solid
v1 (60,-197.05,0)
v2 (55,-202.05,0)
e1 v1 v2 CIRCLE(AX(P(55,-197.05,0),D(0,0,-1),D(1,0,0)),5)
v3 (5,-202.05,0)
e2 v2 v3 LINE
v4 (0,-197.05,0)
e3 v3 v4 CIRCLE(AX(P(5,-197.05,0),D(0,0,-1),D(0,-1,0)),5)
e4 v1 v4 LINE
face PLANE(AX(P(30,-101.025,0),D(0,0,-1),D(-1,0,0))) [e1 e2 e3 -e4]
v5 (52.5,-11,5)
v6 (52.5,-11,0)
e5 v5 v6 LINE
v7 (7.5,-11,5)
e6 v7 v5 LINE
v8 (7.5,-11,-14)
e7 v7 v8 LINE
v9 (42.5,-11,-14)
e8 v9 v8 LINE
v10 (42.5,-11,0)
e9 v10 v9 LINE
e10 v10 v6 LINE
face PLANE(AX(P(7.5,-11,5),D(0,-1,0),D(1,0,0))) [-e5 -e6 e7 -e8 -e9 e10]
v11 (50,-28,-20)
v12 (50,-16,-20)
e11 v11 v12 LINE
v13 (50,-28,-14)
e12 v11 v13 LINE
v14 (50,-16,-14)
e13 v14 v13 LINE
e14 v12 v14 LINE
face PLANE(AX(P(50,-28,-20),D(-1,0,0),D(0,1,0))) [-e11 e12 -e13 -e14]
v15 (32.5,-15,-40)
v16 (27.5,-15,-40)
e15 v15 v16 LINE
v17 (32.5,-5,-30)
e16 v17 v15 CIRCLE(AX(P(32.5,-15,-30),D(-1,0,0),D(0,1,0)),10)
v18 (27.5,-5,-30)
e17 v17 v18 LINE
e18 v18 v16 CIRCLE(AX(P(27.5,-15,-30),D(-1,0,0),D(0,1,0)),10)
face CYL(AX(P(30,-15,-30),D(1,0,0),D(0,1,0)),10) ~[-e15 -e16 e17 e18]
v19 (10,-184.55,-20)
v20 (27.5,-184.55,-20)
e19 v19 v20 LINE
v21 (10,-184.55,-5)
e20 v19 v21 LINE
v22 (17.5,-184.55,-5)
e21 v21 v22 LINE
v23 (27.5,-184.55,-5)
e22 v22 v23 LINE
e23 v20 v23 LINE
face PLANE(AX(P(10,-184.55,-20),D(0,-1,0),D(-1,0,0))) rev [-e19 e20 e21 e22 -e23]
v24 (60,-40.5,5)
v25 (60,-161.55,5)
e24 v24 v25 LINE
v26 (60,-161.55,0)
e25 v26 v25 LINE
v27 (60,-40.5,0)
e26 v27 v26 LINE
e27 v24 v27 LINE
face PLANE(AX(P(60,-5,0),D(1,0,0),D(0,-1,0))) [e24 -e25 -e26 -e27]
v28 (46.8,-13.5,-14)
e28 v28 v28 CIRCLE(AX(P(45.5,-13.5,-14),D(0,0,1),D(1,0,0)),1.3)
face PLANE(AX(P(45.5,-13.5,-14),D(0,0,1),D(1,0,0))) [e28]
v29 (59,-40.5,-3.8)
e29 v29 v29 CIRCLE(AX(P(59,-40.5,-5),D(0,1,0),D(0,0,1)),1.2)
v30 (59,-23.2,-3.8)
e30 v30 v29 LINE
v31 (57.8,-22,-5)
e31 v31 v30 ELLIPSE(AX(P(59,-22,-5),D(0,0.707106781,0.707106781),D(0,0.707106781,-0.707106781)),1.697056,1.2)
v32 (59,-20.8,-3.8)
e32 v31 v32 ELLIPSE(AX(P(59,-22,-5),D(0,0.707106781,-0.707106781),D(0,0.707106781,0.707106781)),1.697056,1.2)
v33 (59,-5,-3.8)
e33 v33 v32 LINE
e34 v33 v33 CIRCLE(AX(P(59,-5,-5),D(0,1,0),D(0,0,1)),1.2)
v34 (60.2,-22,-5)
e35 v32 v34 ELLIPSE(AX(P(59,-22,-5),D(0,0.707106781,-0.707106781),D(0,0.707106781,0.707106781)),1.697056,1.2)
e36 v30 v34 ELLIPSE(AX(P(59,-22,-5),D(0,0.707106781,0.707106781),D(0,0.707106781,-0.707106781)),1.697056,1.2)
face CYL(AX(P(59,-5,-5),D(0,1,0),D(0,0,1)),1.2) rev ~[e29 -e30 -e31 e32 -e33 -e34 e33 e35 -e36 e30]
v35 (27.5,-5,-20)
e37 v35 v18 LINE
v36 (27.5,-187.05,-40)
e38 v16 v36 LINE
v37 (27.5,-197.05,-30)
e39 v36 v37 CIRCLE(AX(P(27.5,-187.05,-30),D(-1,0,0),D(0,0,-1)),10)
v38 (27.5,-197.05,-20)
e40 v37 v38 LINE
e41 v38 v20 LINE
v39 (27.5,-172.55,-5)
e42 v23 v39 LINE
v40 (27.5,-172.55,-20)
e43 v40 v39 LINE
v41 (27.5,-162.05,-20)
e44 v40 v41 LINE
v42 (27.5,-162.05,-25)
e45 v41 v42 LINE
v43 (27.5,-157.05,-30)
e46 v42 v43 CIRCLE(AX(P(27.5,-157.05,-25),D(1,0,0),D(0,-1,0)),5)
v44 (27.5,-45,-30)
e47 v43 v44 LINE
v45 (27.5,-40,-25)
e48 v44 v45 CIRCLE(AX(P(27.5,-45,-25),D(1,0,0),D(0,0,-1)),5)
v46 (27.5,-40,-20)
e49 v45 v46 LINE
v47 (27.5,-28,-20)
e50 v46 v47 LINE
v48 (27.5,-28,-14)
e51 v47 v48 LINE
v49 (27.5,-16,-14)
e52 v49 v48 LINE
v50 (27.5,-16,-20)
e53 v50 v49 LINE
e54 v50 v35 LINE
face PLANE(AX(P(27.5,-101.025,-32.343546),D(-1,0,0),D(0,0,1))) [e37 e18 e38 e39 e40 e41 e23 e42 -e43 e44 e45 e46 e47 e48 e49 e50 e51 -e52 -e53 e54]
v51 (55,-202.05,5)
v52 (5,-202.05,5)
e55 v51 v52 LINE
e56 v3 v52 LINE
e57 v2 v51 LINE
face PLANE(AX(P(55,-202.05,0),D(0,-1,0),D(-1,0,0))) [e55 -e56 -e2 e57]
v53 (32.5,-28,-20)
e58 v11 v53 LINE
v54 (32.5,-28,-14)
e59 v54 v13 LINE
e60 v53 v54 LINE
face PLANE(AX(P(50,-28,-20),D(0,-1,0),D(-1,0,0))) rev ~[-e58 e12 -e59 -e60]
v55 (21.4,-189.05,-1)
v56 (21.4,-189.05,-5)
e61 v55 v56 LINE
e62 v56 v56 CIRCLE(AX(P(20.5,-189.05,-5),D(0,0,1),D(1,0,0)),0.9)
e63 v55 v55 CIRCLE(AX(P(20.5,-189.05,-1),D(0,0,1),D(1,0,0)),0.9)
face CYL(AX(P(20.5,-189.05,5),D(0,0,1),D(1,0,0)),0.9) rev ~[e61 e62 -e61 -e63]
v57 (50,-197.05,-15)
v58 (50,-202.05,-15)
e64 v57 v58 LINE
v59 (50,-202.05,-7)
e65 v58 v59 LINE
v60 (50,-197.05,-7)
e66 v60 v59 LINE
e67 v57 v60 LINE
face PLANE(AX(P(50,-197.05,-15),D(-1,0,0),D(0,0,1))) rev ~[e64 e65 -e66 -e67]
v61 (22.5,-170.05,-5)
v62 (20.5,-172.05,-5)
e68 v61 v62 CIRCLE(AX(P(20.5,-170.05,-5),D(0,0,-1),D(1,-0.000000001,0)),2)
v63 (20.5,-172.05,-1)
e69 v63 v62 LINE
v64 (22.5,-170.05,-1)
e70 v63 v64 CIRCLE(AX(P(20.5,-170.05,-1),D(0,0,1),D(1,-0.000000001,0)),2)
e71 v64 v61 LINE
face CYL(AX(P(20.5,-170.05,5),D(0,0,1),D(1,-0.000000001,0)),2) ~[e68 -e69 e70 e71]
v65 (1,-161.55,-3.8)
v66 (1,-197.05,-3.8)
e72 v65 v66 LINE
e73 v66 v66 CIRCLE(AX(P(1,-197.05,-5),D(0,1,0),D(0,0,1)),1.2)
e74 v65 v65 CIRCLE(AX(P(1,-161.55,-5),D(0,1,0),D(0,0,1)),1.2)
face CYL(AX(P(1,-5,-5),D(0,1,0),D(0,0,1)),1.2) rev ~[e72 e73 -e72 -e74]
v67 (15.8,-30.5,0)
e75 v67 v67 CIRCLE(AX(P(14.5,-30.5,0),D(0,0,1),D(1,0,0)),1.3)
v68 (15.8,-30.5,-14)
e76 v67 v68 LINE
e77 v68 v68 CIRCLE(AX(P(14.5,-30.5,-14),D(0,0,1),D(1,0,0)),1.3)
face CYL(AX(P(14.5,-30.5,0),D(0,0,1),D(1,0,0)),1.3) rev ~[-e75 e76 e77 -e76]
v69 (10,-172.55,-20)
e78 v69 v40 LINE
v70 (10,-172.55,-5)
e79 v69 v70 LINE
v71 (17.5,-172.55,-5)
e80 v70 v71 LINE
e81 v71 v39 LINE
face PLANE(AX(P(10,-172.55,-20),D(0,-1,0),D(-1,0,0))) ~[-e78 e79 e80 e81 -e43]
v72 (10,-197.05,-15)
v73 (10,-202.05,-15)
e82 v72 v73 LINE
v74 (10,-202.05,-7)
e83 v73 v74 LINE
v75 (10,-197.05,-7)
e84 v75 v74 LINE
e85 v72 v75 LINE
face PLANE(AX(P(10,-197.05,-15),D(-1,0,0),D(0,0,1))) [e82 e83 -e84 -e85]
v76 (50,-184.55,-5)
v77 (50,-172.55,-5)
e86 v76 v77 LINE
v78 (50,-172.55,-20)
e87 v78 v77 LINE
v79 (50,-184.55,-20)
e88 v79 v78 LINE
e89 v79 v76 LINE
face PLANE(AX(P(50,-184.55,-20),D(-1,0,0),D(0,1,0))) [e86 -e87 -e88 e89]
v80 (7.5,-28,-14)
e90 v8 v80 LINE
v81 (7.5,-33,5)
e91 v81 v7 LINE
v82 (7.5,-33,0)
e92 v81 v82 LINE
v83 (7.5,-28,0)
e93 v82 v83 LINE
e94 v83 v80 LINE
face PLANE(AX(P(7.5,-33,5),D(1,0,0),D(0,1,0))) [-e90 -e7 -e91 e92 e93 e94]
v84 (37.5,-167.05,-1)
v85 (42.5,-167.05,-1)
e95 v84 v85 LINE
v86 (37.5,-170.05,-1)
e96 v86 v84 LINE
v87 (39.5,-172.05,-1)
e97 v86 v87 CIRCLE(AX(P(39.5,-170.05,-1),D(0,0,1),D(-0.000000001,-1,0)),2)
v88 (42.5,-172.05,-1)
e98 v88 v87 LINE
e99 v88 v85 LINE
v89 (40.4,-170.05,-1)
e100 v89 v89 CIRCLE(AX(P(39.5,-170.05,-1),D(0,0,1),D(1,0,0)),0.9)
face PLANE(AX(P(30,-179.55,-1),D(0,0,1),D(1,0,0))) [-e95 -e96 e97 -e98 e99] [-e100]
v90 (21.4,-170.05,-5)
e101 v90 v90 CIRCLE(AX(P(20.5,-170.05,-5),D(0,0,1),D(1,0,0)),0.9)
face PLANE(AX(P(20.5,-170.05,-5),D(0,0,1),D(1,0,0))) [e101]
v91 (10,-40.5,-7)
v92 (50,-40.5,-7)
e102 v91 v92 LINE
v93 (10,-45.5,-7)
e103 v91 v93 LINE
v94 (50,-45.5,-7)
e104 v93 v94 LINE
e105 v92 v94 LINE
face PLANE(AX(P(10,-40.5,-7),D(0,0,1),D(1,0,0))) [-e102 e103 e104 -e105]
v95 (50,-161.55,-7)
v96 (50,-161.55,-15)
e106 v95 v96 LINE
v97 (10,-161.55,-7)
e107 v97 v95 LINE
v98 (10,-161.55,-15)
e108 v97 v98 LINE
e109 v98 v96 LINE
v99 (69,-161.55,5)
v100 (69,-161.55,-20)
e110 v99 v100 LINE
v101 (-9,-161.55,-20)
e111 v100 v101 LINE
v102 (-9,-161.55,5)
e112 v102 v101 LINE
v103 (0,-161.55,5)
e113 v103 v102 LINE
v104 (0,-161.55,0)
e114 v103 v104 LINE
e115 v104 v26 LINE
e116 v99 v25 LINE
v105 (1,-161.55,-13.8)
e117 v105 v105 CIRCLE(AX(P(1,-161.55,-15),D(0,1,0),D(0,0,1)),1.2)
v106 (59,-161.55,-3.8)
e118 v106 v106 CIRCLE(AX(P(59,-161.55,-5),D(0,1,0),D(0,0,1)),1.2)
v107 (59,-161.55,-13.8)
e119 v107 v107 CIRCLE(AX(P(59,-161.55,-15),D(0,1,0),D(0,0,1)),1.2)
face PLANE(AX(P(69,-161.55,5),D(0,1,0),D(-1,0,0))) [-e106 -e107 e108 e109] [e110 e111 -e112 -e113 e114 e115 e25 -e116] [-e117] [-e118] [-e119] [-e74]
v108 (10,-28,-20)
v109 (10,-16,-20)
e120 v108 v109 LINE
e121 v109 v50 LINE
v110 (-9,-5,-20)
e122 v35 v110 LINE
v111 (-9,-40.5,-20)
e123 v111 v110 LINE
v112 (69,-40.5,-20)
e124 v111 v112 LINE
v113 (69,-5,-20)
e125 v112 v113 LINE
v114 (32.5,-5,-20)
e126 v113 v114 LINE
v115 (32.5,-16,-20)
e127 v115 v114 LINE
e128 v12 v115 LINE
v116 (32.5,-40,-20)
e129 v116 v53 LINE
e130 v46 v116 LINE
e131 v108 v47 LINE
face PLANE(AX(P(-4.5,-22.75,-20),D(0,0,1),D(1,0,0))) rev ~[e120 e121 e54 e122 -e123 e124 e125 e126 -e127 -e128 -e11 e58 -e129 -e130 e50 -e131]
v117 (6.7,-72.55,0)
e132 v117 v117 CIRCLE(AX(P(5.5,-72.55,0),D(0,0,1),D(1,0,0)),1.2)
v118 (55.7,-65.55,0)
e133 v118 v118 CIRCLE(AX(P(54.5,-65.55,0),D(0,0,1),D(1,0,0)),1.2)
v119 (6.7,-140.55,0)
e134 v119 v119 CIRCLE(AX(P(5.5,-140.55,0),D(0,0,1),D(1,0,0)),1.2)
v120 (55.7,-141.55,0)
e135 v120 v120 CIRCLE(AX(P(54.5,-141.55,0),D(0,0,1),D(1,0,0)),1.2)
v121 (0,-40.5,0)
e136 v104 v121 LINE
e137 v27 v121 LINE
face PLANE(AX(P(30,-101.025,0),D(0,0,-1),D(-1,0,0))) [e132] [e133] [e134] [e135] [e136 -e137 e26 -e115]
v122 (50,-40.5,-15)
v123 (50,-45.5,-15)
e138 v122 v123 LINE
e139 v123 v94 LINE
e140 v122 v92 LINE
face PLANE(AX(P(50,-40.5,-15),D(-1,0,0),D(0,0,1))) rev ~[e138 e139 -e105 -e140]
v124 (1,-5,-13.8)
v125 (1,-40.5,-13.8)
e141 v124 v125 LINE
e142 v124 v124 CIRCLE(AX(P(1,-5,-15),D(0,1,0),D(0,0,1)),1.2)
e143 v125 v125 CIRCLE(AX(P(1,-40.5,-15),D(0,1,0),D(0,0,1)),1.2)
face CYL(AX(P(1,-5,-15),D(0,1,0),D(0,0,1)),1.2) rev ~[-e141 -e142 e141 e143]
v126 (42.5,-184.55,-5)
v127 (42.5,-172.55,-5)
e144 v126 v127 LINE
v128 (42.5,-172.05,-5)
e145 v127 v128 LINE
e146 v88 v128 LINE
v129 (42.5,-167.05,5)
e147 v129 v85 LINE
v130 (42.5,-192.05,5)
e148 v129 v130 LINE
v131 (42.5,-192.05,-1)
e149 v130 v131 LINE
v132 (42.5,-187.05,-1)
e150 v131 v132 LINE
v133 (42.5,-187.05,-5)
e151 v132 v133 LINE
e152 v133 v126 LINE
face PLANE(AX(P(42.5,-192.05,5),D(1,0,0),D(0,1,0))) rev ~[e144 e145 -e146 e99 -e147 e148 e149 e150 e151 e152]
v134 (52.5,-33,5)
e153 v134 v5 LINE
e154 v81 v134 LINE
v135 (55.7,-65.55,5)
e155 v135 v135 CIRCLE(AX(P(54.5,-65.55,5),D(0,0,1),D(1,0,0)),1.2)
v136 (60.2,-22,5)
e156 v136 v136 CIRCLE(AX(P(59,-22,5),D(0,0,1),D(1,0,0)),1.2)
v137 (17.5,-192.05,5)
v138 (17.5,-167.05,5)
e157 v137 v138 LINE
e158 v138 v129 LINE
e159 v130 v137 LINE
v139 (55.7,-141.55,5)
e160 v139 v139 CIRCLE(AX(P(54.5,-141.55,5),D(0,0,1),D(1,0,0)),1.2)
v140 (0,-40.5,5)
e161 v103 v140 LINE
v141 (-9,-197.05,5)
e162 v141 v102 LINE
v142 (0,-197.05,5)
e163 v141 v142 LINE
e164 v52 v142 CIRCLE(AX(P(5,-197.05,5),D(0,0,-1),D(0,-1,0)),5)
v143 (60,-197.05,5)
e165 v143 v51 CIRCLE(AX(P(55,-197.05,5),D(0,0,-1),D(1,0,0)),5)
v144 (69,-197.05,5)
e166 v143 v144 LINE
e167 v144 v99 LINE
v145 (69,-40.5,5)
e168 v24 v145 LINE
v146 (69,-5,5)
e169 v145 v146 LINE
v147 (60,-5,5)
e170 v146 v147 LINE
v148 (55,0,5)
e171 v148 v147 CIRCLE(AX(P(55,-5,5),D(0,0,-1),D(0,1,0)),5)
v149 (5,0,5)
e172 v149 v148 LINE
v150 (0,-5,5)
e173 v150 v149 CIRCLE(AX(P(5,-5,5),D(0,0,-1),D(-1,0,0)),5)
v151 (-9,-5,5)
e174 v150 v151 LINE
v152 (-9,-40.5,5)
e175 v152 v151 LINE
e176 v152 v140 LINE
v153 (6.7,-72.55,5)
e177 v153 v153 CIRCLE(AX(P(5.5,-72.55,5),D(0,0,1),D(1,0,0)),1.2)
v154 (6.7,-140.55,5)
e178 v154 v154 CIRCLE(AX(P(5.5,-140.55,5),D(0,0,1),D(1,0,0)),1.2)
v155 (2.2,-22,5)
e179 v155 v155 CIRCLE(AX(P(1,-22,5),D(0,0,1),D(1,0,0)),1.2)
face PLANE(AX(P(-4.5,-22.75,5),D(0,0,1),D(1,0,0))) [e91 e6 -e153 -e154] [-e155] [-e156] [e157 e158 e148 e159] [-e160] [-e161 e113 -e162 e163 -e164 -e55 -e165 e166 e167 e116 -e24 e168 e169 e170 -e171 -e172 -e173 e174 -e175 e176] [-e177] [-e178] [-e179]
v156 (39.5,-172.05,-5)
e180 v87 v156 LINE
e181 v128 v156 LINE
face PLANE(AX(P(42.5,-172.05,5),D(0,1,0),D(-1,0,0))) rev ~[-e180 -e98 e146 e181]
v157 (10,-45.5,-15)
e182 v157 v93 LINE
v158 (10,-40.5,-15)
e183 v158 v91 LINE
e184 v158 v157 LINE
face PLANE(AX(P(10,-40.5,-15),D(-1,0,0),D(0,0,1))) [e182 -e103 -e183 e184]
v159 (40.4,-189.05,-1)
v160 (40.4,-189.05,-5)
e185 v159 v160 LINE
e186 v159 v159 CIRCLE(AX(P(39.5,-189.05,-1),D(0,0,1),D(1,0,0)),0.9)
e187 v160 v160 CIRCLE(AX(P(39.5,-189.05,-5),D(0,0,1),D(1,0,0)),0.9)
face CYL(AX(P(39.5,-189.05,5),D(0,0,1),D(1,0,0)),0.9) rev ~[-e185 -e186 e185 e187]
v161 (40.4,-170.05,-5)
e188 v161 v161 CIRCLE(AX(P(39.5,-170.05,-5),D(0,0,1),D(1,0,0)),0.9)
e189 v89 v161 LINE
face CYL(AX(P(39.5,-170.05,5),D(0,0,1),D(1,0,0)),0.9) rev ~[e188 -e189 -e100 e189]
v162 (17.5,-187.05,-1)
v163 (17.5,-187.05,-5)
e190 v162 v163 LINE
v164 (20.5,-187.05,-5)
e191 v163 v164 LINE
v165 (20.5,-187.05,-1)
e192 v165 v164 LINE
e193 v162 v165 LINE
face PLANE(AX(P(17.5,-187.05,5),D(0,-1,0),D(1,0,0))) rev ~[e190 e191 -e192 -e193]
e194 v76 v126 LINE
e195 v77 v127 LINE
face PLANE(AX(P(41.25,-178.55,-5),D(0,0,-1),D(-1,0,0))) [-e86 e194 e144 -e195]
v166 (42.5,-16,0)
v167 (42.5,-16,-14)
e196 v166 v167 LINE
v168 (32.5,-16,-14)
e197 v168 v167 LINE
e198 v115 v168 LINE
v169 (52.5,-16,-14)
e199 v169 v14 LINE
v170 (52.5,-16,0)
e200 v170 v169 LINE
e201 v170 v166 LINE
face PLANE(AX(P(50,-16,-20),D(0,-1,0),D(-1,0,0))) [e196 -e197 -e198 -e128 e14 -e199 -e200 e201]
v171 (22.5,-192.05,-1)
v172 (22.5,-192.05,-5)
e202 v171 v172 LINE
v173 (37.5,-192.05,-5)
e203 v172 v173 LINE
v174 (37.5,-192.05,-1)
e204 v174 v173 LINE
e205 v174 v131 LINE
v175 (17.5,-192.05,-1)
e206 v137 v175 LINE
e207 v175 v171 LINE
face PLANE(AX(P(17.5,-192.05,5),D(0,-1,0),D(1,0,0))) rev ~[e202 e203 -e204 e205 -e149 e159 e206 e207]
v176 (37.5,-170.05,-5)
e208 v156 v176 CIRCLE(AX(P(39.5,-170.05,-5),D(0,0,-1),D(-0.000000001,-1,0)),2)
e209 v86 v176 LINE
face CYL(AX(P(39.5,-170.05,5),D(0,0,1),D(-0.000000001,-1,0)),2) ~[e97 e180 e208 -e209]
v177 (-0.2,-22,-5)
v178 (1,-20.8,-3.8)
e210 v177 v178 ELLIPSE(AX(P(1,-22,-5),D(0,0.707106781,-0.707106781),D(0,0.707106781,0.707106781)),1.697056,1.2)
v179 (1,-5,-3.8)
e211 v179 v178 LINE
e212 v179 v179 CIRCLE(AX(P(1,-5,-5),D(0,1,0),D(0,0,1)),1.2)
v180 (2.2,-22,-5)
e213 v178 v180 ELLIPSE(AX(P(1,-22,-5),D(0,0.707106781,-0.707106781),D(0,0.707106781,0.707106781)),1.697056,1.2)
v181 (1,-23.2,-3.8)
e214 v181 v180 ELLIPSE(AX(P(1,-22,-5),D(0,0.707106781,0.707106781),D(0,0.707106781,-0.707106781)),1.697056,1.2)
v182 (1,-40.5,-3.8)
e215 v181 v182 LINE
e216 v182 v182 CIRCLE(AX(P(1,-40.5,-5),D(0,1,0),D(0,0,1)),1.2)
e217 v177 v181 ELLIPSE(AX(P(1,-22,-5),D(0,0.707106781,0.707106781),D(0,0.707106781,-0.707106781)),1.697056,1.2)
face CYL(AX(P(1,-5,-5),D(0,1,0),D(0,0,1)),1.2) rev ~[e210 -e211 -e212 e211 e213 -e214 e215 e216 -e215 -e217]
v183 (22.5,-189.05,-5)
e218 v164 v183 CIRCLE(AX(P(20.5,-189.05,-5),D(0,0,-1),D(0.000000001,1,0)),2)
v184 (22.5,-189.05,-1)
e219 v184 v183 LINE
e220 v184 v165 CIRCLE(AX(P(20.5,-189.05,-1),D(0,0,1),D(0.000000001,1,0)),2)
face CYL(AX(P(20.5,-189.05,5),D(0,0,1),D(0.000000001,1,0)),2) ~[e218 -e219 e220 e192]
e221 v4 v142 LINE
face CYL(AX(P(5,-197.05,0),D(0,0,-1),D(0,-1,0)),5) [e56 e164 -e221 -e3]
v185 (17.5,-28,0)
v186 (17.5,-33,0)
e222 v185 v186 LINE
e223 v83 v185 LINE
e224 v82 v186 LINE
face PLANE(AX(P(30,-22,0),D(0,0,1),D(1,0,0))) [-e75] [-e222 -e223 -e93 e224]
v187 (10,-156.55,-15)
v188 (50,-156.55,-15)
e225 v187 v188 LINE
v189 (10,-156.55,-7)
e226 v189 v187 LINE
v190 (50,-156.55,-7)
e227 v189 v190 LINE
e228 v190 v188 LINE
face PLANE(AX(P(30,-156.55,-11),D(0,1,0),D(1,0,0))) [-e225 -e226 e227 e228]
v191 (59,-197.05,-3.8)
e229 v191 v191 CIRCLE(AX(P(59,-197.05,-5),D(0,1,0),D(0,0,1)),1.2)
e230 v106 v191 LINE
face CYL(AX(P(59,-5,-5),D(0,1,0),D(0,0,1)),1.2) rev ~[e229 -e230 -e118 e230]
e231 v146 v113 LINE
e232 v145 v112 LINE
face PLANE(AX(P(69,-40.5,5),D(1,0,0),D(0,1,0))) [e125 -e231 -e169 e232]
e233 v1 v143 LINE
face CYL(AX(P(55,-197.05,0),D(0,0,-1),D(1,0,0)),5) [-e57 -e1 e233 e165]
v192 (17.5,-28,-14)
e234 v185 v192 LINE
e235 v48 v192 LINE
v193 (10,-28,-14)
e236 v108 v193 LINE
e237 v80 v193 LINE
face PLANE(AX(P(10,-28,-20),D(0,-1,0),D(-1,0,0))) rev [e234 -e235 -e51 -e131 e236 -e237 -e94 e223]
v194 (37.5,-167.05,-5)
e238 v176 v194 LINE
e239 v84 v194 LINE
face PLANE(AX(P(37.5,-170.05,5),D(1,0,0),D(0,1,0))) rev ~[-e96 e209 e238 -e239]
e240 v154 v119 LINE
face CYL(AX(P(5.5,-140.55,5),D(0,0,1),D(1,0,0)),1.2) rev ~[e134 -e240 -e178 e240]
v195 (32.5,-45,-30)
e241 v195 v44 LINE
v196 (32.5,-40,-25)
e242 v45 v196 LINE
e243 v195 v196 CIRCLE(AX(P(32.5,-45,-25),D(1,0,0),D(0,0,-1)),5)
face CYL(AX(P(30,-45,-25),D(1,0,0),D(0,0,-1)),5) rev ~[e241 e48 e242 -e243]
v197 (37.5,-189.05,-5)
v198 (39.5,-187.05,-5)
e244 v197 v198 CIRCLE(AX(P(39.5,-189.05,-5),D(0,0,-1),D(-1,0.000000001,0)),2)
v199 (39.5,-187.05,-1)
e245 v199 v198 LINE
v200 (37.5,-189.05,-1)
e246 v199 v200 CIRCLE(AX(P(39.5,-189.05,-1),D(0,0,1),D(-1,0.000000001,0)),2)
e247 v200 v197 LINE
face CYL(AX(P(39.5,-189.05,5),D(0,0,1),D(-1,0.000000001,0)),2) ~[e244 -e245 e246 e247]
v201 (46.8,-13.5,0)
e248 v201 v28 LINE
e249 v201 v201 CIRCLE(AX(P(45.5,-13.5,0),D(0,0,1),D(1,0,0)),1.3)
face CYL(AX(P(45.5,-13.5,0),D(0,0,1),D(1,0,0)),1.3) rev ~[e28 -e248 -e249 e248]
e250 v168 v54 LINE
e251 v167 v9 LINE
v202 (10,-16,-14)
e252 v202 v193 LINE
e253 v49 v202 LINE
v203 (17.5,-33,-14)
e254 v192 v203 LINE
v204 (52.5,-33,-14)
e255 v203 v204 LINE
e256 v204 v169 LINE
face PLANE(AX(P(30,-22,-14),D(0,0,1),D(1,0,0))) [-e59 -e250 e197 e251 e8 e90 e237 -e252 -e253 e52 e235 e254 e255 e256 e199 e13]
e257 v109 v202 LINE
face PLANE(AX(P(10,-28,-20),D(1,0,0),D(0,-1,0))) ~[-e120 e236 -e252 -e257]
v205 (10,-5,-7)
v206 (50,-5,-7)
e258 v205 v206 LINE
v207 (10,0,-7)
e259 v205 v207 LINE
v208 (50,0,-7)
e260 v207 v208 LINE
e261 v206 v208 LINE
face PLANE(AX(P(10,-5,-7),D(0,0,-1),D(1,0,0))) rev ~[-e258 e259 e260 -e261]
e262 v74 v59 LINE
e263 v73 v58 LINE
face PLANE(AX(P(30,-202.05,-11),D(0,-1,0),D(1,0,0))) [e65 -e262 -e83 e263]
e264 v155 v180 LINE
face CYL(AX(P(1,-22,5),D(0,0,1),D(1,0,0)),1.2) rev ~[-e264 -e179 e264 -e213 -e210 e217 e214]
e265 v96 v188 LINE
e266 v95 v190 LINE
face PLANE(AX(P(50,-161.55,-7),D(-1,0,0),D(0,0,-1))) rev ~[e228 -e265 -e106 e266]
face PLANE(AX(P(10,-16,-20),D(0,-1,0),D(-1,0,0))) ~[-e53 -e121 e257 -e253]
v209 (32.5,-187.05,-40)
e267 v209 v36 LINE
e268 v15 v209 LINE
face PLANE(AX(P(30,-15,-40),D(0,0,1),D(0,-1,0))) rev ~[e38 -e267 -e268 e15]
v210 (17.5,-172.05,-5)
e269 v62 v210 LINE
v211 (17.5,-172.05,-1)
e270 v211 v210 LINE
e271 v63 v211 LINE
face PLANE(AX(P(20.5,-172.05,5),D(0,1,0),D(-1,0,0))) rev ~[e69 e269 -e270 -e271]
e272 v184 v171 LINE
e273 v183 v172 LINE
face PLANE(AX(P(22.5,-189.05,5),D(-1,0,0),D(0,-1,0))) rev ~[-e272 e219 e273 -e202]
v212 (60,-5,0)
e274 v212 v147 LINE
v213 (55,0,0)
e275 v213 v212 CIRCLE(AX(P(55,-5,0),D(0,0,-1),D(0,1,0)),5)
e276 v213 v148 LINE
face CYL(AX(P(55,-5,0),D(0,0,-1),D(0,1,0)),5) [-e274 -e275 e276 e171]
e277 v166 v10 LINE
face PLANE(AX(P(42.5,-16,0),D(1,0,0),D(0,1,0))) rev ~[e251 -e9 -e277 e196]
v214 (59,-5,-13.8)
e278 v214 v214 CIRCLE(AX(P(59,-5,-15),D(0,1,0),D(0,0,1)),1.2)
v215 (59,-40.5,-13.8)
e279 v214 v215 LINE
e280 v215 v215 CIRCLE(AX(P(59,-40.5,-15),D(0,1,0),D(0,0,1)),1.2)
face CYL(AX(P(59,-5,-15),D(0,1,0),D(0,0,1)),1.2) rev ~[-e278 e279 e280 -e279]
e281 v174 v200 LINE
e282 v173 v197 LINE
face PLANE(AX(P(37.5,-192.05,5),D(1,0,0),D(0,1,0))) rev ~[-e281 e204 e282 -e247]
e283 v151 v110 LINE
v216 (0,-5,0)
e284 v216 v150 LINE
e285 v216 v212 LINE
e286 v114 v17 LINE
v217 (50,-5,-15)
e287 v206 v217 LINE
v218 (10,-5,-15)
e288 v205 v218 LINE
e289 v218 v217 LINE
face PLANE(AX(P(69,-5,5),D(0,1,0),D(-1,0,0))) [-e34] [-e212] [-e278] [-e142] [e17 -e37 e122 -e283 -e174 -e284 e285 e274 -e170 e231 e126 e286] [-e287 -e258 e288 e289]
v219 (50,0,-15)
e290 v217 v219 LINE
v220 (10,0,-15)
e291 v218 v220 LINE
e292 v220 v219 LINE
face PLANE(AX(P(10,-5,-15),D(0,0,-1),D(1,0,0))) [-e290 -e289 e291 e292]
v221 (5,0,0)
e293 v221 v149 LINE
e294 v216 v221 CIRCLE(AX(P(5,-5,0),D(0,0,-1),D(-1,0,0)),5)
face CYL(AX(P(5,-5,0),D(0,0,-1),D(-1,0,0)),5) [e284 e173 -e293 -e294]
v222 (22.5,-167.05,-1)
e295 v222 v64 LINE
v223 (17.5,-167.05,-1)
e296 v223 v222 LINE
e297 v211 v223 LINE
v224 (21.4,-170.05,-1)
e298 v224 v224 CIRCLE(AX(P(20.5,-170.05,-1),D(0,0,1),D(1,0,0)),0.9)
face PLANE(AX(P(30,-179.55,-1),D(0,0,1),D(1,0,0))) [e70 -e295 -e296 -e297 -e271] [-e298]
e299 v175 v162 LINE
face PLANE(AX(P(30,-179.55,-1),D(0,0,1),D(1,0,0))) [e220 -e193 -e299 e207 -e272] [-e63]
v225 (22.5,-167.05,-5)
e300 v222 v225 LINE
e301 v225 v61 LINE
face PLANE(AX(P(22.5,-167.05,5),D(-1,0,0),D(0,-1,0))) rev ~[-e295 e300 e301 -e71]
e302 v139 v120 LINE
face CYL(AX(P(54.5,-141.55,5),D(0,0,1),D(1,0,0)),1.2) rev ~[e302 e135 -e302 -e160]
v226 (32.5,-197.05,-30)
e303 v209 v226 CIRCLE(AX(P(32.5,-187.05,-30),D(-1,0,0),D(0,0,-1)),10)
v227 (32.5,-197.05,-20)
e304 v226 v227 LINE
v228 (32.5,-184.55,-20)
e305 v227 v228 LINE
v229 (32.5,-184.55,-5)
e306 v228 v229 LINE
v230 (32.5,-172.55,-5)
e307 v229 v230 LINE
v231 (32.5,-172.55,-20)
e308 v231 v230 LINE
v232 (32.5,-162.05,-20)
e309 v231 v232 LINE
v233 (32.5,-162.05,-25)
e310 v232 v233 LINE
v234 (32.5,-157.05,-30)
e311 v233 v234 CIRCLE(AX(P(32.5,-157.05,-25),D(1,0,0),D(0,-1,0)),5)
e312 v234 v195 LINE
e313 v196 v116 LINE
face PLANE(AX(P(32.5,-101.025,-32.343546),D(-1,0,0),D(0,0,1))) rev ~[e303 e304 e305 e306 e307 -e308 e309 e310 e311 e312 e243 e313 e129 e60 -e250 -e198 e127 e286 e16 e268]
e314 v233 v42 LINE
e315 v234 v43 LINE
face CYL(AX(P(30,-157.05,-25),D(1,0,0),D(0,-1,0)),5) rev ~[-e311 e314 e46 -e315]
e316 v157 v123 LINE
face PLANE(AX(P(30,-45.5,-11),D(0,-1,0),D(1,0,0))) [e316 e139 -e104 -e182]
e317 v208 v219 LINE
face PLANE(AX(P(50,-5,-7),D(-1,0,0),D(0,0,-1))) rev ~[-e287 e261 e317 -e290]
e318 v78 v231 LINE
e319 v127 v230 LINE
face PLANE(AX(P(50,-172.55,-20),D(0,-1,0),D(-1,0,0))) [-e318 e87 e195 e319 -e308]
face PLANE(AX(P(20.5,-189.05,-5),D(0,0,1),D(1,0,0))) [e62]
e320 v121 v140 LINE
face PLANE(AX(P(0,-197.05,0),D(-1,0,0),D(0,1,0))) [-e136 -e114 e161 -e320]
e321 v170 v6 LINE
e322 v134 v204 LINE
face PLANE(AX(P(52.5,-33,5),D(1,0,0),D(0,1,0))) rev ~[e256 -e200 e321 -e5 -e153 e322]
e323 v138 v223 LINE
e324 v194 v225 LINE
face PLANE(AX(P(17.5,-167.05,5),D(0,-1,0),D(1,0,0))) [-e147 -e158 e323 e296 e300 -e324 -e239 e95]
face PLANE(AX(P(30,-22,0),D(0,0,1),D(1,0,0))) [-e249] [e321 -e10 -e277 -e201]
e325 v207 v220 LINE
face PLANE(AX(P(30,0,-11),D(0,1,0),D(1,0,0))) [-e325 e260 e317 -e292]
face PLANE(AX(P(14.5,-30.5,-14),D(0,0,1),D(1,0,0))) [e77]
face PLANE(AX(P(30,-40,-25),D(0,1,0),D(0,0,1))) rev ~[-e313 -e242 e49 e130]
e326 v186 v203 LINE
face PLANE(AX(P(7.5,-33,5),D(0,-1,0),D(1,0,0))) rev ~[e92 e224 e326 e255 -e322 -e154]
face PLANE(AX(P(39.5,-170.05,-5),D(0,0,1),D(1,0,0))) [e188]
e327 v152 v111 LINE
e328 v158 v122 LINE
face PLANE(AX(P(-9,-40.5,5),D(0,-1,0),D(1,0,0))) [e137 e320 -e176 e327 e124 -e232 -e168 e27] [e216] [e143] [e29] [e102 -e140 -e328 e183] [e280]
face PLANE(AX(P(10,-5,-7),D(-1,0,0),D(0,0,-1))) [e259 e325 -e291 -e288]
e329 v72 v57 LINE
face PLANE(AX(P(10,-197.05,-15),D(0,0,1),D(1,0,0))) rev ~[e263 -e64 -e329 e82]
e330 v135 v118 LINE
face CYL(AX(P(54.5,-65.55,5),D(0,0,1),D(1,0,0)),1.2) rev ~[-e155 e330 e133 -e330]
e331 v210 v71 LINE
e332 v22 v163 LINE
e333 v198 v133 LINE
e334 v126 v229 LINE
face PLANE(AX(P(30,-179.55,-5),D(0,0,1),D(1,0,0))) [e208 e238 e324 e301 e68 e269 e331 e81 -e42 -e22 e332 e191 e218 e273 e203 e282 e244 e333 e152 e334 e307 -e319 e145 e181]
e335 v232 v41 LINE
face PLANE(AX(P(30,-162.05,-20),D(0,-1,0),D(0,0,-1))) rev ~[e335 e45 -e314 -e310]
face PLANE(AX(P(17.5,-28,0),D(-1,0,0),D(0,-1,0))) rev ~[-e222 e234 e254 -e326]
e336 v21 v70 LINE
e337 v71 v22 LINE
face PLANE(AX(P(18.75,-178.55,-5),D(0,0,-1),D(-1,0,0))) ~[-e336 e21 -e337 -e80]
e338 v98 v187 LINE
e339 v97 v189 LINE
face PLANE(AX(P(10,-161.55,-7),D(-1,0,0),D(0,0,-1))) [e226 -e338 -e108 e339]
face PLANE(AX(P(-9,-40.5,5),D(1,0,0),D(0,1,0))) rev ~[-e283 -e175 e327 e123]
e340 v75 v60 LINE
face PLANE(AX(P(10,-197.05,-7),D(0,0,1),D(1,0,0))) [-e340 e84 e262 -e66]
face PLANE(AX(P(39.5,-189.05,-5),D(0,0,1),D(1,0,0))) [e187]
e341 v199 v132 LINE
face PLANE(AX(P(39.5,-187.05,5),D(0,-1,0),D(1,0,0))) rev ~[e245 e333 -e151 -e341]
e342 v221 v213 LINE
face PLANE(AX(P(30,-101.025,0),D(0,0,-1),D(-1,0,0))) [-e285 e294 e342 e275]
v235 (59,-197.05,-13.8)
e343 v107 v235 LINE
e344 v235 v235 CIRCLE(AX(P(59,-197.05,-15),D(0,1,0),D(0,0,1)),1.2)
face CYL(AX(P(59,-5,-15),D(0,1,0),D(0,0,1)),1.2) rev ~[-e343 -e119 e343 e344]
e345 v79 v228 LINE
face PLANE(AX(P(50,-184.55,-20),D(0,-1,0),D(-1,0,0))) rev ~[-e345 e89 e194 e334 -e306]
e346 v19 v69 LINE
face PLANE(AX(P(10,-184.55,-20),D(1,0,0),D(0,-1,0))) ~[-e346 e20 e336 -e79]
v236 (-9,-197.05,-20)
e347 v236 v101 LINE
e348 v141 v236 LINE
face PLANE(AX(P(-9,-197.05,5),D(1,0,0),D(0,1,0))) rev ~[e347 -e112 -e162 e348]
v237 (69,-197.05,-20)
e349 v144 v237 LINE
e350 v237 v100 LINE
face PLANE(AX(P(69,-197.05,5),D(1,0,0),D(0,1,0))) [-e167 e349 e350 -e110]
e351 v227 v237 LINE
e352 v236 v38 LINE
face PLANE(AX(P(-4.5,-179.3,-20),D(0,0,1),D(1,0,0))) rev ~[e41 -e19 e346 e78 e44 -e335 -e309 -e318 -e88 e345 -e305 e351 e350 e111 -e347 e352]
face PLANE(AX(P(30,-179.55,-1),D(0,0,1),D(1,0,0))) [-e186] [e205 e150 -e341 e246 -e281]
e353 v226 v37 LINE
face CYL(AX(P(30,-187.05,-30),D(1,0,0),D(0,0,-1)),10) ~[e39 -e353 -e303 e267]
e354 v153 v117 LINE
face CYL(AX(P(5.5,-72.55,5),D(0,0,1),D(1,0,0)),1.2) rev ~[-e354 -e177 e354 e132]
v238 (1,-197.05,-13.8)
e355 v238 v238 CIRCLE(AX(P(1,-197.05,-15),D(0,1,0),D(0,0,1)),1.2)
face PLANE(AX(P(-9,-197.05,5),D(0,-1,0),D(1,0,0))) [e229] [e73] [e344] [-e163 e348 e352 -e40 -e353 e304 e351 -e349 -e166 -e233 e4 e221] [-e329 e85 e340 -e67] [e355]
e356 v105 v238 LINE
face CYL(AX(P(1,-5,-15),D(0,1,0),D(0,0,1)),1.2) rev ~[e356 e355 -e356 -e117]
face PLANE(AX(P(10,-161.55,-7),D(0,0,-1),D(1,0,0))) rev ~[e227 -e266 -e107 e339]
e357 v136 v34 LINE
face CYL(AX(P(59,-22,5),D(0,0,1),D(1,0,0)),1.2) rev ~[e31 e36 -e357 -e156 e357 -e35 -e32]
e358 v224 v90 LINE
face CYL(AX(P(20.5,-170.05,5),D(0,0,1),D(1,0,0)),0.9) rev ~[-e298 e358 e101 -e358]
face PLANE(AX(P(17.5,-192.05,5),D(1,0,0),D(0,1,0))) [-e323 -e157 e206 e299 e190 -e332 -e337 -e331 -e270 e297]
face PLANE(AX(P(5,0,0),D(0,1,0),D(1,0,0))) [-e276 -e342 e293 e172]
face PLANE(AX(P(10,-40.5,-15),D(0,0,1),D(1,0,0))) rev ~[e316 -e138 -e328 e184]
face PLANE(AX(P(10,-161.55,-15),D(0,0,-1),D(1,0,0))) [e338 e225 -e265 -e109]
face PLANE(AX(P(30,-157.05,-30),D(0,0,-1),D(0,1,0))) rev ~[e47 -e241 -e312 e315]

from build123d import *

# Parameters (mm, degrees)
EXTRUDE_1_DEPTH     = 5
SKETCH_3_W          = 78
SKETCH_3_H          = 35.5
EXTRUDE_3_DEPTH     = 25
SKETCH_4_W          = 40
SKETCH_4_H          = 8
EXTRUDE_4_DEPTH     = 5
SKETCH_5_R          = 1.2
CUT_EXTRUDE_1_DEPTH = 210.737222495
SKETCH_6_W          = 40
SKETCH_6_H          = 8
EXTRUDE_5_DEPTH     = 5
EXTRUDE_6_DEPTH     = 2.5
SKETCH_8_W          = 40
SKETCH_8_H          = 8
EXTRUDE_7_DEPTH     = 5
SKETCH_17_W         = 40
SKETCH_17_H         = 8
EXTRUDE_12_DEPTH    = 5
SKETCH_18_W         = 25
SKETCH_18_H         = 25
CUT_EXTRUDE_3_DEPTH = 6
SKETCH_21_R         = 0.9
CUT_EXTRUDE_4_DEPTH = 10
SKETCH_22_R         = 1.2
CUT_EXTRUDE_5_DEPTH = 10
SKETCH_23_W         = 45
SKETCH_23_H         = 22
CUT_EXTRUDE_6_DEPTH = 5
SKETCH_25_R         = 1.3
CUT_EXTRUDE_7_DEPTH = 14
SKETCH_26_W         = 17.5
SKETCH_26_H         = 12
CUT_EXTRUDE_8_DEPTH = 15


with BuildPart() as part:
    # 草图1 → 凸台-拉伸1 (new body)
    with BuildSketch(Plane.XY):
        with BuildLine():
            Line((5, 0), (55, 0))
            ThreePointArc((55, 0), (58.535533906, -1.464466094), (60, -5))
            Line((60, -5), (60, -197.05))
            ThreePointArc((60, -197.05), (58.535533906, -200.585533906), (55, -202.05))
            Line((55, -202.05), (5, -202.05))
            ThreePointArc((5, -202.05), (1.464466094, -200.585533906), (0, -197.05))
            Line((0, -197.05), (0, -5))
            ThreePointArc((0, -5), (1.464466094, -1.464466094), (5, 0))
        make_face()
    extrude(amount=EXTRUDE_1_DEPTH)

    # 草图3 → 凸台-拉伸3 (add)
    with BuildSketch(Plane.XY.offset(5)):
        with Locations((30, -22.75)):
            Rectangle(SKETCH_3_W, SKETCH_3_H)
        with Locations((30, -179.3)):
            Rectangle(SKETCH_3_W, SKETCH_3_H)
    extrude(amount=-EXTRUDE_3_DEPTH)

    # 草图4 → 凸台-拉伸4 (add)
    with BuildSketch(Plane(origin=(0, -5, 0), x_dir=(1, 0, 0), z_dir=(0, 1, 0))):
        with Locations((30, 11)):
            Rectangle(SKETCH_4_W, SKETCH_4_H)
    extrude(amount=EXTRUDE_4_DEPTH)

    # 草图5 → 切除-拉伸1 (cut, through all)
    with BuildSketch(Plane(origin=(0, -5, 0), x_dir=(1, 0, 0), z_dir=(0, 1, 0))):
        with Locations((1, 15)):
            Circle(SKETCH_5_R)
        with Locations((1, 5)):
            Circle(SKETCH_5_R)
        with Locations((59, 5)):
            Circle(SKETCH_5_R)
        with Locations((59, 15)):
            Circle(SKETCH_5_R)
    extrude(amount=-CUT_EXTRUDE_1_DEPTH, mode=Mode.SUBTRACT)

    # 草图6 → 凸台-拉伸5 (add)
    with BuildSketch(Plane.XZ.offset(197.05)):
        with Locations((30, -11)):
            Rectangle(SKETCH_6_W, SKETCH_6_H)
    extrude(amount=EXTRUDE_5_DEPTH)

    # 草图7 → 凸台-拉伸6 (add, symmetric)
    with BuildSketch(Plane(origin=(30, 0, 0), x_dir=(0, 0, -1), z_dir=(1, 0, 0))):
        with BuildLine():
            Line((20, -5), (30, -5))
            ThreePointArc((30, -5), (37.071067812, -7.928932188), (40, -15))
            Line((40, -15), (40, -187.05))
            ThreePointArc((40, -187.05), (37.071067812, -194.121067812), (30, -197.05))
            Line((30, -197.05), (20, -197.05))
            Line((20, -197.05), (20, -162.05))
            Line((20, -162.05), (25, -162.05))
            ThreePointArc((25, -162.05), (28.535533906, -160.585533906), (30, -157.05))
            Line((30, -157.05), (30, -45))
            ThreePointArc((30, -45), (28.535533906, -41.464466094), (25, -40))
            Line((25, -40), (20, -40))
            Line((20, -40), (20, -5))
        make_face()
    extrude(amount=EXTRUDE_6_DEPTH, both=True)

    # 草图8 → 凸台-拉伸7 (add)
    with BuildSketch(Plane(origin=(0, -161.55, 0), x_dir=(1, 0, 0), z_dir=(0, 1, 0))):
        with Locations((30, 11)):
            Rectangle(SKETCH_8_W, SKETCH_8_H)
    extrude(amount=EXTRUDE_7_DEPTH)

    # 草图17 → 凸台-拉伸12 (add)
    with BuildSketch(Plane.XZ.offset(40.5)):
        with Locations((30, -11)):
            Rectangle(SKETCH_17_W, SKETCH_17_H)
    extrude(amount=EXTRUDE_12_DEPTH)

    # 草图18 → 切除-拉伸3 (cut)
    with BuildSketch(Plane.XY.offset(5)):
        with Locations((30, -179.55)):
            Rectangle(SKETCH_18_W, SKETCH_18_H)
    extrude(amount=-CUT_EXTRUDE_3_DEPTH, mode=Mode.SUBTRACT)

    # 草图21 → 切除-拉伸4 (cut)
    with BuildSketch(Plane.XY.offset(5)):
        with Locations((20.5, -170.05)):
            Circle(SKETCH_21_R)
        with Locations((39.5, -170.05)):
            Circle(SKETCH_21_R)
        with Locations((39.5, -189.05)):
            Circle(SKETCH_21_R)
        with Locations((20.5, -189.05)):
            Circle(SKETCH_21_R)
        with BuildLine():
            Line((17.5, -187.05), (20.5, -187.05))
            ThreePointArc((20.5, -187.05), (21.914213562, -187.635786438), (22.5, -189.05))
            Line((22.5, -189.05), (22.5, -192.05))
            Line((22.5, -192.05), (37.5, -192.05))
            Line((37.5, -192.05), (37.5, -189.05))
            ThreePointArc((37.5, -189.05), (38.085786438, -187.635786438), (39.5, -187.05))
            Line((39.5, -187.05), (42.5, -187.05))
            Line((42.5, -187.05), (42.5, -172.05))
            Line((42.5, -172.05), (39.5, -172.05))
            ThreePointArc((39.5, -172.05), (38.085786438, -171.464213562), (37.5, -170.05))
            Line((37.5, -170.05), (37.5, -167.05))
            Line((37.5, -167.05), (22.5, -167.05))
            Line((22.5, -167.05), (22.5, -170.05))
            ThreePointArc((22.5, -170.05), (21.914213562, -171.464213562), (20.5, -172.05))
            Line((20.5, -172.05), (17.5, -172.05))
            Line((17.5, -172.05), (17.5, -187.05))
        make_face()
    extrude(amount=-CUT_EXTRUDE_4_DEPTH, mode=Mode.SUBTRACT)

    # 草图22 → 切除-拉伸5 (cut)
    with BuildSketch(Plane.XY.offset(5)):
        with Locations((5.5, -140.55)):
            Circle(SKETCH_22_R)
        with Locations((54.5, -141.55)):
            Circle(SKETCH_22_R)
        with Locations((5.5, -72.55)):
            Circle(SKETCH_22_R)
        with Locations((54.5, -65.55)):
            Circle(SKETCH_22_R)
        with Locations((1, -22)):
            Circle(SKETCH_22_R)
        with Locations((59, -22)):
            Circle(SKETCH_22_R)
    extrude(amount=-CUT_EXTRUDE_5_DEPTH, mode=Mode.SUBTRACT)

    # 草图23 → 切除-拉伸6 (cut)
    with BuildSketch(Plane.XY.offset(5)):
        with Locations((30, -22)):
            Rectangle(SKETCH_23_W, SKETCH_23_H)
    extrude(amount=-CUT_EXTRUDE_6_DEPTH, mode=Mode.SUBTRACT)

    # 草图25 → 切除-拉伸7 (cut)
    with BuildSketch(Plane.XY):
        with Locations((45.5, -13.5)):
            Circle(SKETCH_25_R)
        with Locations((14.5, -30.5)):
            Circle(SKETCH_25_R)
        Polygon((52.5, -33), (52.5, -16), (42.5, -16), (42.5, -11), (7.5, -11), (7.5, -28), (17.5, -28), (17.5, -33), align=None)
    extrude(amount=-CUT_EXTRUDE_7_DEPTH, mode=Mode.SUBTRACT)

    # 草图26 → 切除-拉伸8 (cut)
    with BuildSketch(Plane(origin=(0, 0, -20), x_dir=(-1, 0, 0), z_dir=(0, 0, -1))):
        with Locations((-41.25, -178.55)):
            Rectangle(SKETCH_26_W, SKETCH_26_H)
        with Locations((-41.25, -22)):
            Rectangle(SKETCH_26_W, SKETCH_26_H)
    cut_extrude_8 = extrude(amount=-CUT_EXTRUDE_8_DEPTH, mode=Mode.SUBTRACT)

    # 镜向1: 切除-拉伸8 across plane
    add(cut_extrude_8.mirror(Plane(origin=(30, 0, 0), x_dir=(0, 0, 1), z_dir=(1, 0, 0))), mode=Mode.SUBTRACT)


solid = part.part
